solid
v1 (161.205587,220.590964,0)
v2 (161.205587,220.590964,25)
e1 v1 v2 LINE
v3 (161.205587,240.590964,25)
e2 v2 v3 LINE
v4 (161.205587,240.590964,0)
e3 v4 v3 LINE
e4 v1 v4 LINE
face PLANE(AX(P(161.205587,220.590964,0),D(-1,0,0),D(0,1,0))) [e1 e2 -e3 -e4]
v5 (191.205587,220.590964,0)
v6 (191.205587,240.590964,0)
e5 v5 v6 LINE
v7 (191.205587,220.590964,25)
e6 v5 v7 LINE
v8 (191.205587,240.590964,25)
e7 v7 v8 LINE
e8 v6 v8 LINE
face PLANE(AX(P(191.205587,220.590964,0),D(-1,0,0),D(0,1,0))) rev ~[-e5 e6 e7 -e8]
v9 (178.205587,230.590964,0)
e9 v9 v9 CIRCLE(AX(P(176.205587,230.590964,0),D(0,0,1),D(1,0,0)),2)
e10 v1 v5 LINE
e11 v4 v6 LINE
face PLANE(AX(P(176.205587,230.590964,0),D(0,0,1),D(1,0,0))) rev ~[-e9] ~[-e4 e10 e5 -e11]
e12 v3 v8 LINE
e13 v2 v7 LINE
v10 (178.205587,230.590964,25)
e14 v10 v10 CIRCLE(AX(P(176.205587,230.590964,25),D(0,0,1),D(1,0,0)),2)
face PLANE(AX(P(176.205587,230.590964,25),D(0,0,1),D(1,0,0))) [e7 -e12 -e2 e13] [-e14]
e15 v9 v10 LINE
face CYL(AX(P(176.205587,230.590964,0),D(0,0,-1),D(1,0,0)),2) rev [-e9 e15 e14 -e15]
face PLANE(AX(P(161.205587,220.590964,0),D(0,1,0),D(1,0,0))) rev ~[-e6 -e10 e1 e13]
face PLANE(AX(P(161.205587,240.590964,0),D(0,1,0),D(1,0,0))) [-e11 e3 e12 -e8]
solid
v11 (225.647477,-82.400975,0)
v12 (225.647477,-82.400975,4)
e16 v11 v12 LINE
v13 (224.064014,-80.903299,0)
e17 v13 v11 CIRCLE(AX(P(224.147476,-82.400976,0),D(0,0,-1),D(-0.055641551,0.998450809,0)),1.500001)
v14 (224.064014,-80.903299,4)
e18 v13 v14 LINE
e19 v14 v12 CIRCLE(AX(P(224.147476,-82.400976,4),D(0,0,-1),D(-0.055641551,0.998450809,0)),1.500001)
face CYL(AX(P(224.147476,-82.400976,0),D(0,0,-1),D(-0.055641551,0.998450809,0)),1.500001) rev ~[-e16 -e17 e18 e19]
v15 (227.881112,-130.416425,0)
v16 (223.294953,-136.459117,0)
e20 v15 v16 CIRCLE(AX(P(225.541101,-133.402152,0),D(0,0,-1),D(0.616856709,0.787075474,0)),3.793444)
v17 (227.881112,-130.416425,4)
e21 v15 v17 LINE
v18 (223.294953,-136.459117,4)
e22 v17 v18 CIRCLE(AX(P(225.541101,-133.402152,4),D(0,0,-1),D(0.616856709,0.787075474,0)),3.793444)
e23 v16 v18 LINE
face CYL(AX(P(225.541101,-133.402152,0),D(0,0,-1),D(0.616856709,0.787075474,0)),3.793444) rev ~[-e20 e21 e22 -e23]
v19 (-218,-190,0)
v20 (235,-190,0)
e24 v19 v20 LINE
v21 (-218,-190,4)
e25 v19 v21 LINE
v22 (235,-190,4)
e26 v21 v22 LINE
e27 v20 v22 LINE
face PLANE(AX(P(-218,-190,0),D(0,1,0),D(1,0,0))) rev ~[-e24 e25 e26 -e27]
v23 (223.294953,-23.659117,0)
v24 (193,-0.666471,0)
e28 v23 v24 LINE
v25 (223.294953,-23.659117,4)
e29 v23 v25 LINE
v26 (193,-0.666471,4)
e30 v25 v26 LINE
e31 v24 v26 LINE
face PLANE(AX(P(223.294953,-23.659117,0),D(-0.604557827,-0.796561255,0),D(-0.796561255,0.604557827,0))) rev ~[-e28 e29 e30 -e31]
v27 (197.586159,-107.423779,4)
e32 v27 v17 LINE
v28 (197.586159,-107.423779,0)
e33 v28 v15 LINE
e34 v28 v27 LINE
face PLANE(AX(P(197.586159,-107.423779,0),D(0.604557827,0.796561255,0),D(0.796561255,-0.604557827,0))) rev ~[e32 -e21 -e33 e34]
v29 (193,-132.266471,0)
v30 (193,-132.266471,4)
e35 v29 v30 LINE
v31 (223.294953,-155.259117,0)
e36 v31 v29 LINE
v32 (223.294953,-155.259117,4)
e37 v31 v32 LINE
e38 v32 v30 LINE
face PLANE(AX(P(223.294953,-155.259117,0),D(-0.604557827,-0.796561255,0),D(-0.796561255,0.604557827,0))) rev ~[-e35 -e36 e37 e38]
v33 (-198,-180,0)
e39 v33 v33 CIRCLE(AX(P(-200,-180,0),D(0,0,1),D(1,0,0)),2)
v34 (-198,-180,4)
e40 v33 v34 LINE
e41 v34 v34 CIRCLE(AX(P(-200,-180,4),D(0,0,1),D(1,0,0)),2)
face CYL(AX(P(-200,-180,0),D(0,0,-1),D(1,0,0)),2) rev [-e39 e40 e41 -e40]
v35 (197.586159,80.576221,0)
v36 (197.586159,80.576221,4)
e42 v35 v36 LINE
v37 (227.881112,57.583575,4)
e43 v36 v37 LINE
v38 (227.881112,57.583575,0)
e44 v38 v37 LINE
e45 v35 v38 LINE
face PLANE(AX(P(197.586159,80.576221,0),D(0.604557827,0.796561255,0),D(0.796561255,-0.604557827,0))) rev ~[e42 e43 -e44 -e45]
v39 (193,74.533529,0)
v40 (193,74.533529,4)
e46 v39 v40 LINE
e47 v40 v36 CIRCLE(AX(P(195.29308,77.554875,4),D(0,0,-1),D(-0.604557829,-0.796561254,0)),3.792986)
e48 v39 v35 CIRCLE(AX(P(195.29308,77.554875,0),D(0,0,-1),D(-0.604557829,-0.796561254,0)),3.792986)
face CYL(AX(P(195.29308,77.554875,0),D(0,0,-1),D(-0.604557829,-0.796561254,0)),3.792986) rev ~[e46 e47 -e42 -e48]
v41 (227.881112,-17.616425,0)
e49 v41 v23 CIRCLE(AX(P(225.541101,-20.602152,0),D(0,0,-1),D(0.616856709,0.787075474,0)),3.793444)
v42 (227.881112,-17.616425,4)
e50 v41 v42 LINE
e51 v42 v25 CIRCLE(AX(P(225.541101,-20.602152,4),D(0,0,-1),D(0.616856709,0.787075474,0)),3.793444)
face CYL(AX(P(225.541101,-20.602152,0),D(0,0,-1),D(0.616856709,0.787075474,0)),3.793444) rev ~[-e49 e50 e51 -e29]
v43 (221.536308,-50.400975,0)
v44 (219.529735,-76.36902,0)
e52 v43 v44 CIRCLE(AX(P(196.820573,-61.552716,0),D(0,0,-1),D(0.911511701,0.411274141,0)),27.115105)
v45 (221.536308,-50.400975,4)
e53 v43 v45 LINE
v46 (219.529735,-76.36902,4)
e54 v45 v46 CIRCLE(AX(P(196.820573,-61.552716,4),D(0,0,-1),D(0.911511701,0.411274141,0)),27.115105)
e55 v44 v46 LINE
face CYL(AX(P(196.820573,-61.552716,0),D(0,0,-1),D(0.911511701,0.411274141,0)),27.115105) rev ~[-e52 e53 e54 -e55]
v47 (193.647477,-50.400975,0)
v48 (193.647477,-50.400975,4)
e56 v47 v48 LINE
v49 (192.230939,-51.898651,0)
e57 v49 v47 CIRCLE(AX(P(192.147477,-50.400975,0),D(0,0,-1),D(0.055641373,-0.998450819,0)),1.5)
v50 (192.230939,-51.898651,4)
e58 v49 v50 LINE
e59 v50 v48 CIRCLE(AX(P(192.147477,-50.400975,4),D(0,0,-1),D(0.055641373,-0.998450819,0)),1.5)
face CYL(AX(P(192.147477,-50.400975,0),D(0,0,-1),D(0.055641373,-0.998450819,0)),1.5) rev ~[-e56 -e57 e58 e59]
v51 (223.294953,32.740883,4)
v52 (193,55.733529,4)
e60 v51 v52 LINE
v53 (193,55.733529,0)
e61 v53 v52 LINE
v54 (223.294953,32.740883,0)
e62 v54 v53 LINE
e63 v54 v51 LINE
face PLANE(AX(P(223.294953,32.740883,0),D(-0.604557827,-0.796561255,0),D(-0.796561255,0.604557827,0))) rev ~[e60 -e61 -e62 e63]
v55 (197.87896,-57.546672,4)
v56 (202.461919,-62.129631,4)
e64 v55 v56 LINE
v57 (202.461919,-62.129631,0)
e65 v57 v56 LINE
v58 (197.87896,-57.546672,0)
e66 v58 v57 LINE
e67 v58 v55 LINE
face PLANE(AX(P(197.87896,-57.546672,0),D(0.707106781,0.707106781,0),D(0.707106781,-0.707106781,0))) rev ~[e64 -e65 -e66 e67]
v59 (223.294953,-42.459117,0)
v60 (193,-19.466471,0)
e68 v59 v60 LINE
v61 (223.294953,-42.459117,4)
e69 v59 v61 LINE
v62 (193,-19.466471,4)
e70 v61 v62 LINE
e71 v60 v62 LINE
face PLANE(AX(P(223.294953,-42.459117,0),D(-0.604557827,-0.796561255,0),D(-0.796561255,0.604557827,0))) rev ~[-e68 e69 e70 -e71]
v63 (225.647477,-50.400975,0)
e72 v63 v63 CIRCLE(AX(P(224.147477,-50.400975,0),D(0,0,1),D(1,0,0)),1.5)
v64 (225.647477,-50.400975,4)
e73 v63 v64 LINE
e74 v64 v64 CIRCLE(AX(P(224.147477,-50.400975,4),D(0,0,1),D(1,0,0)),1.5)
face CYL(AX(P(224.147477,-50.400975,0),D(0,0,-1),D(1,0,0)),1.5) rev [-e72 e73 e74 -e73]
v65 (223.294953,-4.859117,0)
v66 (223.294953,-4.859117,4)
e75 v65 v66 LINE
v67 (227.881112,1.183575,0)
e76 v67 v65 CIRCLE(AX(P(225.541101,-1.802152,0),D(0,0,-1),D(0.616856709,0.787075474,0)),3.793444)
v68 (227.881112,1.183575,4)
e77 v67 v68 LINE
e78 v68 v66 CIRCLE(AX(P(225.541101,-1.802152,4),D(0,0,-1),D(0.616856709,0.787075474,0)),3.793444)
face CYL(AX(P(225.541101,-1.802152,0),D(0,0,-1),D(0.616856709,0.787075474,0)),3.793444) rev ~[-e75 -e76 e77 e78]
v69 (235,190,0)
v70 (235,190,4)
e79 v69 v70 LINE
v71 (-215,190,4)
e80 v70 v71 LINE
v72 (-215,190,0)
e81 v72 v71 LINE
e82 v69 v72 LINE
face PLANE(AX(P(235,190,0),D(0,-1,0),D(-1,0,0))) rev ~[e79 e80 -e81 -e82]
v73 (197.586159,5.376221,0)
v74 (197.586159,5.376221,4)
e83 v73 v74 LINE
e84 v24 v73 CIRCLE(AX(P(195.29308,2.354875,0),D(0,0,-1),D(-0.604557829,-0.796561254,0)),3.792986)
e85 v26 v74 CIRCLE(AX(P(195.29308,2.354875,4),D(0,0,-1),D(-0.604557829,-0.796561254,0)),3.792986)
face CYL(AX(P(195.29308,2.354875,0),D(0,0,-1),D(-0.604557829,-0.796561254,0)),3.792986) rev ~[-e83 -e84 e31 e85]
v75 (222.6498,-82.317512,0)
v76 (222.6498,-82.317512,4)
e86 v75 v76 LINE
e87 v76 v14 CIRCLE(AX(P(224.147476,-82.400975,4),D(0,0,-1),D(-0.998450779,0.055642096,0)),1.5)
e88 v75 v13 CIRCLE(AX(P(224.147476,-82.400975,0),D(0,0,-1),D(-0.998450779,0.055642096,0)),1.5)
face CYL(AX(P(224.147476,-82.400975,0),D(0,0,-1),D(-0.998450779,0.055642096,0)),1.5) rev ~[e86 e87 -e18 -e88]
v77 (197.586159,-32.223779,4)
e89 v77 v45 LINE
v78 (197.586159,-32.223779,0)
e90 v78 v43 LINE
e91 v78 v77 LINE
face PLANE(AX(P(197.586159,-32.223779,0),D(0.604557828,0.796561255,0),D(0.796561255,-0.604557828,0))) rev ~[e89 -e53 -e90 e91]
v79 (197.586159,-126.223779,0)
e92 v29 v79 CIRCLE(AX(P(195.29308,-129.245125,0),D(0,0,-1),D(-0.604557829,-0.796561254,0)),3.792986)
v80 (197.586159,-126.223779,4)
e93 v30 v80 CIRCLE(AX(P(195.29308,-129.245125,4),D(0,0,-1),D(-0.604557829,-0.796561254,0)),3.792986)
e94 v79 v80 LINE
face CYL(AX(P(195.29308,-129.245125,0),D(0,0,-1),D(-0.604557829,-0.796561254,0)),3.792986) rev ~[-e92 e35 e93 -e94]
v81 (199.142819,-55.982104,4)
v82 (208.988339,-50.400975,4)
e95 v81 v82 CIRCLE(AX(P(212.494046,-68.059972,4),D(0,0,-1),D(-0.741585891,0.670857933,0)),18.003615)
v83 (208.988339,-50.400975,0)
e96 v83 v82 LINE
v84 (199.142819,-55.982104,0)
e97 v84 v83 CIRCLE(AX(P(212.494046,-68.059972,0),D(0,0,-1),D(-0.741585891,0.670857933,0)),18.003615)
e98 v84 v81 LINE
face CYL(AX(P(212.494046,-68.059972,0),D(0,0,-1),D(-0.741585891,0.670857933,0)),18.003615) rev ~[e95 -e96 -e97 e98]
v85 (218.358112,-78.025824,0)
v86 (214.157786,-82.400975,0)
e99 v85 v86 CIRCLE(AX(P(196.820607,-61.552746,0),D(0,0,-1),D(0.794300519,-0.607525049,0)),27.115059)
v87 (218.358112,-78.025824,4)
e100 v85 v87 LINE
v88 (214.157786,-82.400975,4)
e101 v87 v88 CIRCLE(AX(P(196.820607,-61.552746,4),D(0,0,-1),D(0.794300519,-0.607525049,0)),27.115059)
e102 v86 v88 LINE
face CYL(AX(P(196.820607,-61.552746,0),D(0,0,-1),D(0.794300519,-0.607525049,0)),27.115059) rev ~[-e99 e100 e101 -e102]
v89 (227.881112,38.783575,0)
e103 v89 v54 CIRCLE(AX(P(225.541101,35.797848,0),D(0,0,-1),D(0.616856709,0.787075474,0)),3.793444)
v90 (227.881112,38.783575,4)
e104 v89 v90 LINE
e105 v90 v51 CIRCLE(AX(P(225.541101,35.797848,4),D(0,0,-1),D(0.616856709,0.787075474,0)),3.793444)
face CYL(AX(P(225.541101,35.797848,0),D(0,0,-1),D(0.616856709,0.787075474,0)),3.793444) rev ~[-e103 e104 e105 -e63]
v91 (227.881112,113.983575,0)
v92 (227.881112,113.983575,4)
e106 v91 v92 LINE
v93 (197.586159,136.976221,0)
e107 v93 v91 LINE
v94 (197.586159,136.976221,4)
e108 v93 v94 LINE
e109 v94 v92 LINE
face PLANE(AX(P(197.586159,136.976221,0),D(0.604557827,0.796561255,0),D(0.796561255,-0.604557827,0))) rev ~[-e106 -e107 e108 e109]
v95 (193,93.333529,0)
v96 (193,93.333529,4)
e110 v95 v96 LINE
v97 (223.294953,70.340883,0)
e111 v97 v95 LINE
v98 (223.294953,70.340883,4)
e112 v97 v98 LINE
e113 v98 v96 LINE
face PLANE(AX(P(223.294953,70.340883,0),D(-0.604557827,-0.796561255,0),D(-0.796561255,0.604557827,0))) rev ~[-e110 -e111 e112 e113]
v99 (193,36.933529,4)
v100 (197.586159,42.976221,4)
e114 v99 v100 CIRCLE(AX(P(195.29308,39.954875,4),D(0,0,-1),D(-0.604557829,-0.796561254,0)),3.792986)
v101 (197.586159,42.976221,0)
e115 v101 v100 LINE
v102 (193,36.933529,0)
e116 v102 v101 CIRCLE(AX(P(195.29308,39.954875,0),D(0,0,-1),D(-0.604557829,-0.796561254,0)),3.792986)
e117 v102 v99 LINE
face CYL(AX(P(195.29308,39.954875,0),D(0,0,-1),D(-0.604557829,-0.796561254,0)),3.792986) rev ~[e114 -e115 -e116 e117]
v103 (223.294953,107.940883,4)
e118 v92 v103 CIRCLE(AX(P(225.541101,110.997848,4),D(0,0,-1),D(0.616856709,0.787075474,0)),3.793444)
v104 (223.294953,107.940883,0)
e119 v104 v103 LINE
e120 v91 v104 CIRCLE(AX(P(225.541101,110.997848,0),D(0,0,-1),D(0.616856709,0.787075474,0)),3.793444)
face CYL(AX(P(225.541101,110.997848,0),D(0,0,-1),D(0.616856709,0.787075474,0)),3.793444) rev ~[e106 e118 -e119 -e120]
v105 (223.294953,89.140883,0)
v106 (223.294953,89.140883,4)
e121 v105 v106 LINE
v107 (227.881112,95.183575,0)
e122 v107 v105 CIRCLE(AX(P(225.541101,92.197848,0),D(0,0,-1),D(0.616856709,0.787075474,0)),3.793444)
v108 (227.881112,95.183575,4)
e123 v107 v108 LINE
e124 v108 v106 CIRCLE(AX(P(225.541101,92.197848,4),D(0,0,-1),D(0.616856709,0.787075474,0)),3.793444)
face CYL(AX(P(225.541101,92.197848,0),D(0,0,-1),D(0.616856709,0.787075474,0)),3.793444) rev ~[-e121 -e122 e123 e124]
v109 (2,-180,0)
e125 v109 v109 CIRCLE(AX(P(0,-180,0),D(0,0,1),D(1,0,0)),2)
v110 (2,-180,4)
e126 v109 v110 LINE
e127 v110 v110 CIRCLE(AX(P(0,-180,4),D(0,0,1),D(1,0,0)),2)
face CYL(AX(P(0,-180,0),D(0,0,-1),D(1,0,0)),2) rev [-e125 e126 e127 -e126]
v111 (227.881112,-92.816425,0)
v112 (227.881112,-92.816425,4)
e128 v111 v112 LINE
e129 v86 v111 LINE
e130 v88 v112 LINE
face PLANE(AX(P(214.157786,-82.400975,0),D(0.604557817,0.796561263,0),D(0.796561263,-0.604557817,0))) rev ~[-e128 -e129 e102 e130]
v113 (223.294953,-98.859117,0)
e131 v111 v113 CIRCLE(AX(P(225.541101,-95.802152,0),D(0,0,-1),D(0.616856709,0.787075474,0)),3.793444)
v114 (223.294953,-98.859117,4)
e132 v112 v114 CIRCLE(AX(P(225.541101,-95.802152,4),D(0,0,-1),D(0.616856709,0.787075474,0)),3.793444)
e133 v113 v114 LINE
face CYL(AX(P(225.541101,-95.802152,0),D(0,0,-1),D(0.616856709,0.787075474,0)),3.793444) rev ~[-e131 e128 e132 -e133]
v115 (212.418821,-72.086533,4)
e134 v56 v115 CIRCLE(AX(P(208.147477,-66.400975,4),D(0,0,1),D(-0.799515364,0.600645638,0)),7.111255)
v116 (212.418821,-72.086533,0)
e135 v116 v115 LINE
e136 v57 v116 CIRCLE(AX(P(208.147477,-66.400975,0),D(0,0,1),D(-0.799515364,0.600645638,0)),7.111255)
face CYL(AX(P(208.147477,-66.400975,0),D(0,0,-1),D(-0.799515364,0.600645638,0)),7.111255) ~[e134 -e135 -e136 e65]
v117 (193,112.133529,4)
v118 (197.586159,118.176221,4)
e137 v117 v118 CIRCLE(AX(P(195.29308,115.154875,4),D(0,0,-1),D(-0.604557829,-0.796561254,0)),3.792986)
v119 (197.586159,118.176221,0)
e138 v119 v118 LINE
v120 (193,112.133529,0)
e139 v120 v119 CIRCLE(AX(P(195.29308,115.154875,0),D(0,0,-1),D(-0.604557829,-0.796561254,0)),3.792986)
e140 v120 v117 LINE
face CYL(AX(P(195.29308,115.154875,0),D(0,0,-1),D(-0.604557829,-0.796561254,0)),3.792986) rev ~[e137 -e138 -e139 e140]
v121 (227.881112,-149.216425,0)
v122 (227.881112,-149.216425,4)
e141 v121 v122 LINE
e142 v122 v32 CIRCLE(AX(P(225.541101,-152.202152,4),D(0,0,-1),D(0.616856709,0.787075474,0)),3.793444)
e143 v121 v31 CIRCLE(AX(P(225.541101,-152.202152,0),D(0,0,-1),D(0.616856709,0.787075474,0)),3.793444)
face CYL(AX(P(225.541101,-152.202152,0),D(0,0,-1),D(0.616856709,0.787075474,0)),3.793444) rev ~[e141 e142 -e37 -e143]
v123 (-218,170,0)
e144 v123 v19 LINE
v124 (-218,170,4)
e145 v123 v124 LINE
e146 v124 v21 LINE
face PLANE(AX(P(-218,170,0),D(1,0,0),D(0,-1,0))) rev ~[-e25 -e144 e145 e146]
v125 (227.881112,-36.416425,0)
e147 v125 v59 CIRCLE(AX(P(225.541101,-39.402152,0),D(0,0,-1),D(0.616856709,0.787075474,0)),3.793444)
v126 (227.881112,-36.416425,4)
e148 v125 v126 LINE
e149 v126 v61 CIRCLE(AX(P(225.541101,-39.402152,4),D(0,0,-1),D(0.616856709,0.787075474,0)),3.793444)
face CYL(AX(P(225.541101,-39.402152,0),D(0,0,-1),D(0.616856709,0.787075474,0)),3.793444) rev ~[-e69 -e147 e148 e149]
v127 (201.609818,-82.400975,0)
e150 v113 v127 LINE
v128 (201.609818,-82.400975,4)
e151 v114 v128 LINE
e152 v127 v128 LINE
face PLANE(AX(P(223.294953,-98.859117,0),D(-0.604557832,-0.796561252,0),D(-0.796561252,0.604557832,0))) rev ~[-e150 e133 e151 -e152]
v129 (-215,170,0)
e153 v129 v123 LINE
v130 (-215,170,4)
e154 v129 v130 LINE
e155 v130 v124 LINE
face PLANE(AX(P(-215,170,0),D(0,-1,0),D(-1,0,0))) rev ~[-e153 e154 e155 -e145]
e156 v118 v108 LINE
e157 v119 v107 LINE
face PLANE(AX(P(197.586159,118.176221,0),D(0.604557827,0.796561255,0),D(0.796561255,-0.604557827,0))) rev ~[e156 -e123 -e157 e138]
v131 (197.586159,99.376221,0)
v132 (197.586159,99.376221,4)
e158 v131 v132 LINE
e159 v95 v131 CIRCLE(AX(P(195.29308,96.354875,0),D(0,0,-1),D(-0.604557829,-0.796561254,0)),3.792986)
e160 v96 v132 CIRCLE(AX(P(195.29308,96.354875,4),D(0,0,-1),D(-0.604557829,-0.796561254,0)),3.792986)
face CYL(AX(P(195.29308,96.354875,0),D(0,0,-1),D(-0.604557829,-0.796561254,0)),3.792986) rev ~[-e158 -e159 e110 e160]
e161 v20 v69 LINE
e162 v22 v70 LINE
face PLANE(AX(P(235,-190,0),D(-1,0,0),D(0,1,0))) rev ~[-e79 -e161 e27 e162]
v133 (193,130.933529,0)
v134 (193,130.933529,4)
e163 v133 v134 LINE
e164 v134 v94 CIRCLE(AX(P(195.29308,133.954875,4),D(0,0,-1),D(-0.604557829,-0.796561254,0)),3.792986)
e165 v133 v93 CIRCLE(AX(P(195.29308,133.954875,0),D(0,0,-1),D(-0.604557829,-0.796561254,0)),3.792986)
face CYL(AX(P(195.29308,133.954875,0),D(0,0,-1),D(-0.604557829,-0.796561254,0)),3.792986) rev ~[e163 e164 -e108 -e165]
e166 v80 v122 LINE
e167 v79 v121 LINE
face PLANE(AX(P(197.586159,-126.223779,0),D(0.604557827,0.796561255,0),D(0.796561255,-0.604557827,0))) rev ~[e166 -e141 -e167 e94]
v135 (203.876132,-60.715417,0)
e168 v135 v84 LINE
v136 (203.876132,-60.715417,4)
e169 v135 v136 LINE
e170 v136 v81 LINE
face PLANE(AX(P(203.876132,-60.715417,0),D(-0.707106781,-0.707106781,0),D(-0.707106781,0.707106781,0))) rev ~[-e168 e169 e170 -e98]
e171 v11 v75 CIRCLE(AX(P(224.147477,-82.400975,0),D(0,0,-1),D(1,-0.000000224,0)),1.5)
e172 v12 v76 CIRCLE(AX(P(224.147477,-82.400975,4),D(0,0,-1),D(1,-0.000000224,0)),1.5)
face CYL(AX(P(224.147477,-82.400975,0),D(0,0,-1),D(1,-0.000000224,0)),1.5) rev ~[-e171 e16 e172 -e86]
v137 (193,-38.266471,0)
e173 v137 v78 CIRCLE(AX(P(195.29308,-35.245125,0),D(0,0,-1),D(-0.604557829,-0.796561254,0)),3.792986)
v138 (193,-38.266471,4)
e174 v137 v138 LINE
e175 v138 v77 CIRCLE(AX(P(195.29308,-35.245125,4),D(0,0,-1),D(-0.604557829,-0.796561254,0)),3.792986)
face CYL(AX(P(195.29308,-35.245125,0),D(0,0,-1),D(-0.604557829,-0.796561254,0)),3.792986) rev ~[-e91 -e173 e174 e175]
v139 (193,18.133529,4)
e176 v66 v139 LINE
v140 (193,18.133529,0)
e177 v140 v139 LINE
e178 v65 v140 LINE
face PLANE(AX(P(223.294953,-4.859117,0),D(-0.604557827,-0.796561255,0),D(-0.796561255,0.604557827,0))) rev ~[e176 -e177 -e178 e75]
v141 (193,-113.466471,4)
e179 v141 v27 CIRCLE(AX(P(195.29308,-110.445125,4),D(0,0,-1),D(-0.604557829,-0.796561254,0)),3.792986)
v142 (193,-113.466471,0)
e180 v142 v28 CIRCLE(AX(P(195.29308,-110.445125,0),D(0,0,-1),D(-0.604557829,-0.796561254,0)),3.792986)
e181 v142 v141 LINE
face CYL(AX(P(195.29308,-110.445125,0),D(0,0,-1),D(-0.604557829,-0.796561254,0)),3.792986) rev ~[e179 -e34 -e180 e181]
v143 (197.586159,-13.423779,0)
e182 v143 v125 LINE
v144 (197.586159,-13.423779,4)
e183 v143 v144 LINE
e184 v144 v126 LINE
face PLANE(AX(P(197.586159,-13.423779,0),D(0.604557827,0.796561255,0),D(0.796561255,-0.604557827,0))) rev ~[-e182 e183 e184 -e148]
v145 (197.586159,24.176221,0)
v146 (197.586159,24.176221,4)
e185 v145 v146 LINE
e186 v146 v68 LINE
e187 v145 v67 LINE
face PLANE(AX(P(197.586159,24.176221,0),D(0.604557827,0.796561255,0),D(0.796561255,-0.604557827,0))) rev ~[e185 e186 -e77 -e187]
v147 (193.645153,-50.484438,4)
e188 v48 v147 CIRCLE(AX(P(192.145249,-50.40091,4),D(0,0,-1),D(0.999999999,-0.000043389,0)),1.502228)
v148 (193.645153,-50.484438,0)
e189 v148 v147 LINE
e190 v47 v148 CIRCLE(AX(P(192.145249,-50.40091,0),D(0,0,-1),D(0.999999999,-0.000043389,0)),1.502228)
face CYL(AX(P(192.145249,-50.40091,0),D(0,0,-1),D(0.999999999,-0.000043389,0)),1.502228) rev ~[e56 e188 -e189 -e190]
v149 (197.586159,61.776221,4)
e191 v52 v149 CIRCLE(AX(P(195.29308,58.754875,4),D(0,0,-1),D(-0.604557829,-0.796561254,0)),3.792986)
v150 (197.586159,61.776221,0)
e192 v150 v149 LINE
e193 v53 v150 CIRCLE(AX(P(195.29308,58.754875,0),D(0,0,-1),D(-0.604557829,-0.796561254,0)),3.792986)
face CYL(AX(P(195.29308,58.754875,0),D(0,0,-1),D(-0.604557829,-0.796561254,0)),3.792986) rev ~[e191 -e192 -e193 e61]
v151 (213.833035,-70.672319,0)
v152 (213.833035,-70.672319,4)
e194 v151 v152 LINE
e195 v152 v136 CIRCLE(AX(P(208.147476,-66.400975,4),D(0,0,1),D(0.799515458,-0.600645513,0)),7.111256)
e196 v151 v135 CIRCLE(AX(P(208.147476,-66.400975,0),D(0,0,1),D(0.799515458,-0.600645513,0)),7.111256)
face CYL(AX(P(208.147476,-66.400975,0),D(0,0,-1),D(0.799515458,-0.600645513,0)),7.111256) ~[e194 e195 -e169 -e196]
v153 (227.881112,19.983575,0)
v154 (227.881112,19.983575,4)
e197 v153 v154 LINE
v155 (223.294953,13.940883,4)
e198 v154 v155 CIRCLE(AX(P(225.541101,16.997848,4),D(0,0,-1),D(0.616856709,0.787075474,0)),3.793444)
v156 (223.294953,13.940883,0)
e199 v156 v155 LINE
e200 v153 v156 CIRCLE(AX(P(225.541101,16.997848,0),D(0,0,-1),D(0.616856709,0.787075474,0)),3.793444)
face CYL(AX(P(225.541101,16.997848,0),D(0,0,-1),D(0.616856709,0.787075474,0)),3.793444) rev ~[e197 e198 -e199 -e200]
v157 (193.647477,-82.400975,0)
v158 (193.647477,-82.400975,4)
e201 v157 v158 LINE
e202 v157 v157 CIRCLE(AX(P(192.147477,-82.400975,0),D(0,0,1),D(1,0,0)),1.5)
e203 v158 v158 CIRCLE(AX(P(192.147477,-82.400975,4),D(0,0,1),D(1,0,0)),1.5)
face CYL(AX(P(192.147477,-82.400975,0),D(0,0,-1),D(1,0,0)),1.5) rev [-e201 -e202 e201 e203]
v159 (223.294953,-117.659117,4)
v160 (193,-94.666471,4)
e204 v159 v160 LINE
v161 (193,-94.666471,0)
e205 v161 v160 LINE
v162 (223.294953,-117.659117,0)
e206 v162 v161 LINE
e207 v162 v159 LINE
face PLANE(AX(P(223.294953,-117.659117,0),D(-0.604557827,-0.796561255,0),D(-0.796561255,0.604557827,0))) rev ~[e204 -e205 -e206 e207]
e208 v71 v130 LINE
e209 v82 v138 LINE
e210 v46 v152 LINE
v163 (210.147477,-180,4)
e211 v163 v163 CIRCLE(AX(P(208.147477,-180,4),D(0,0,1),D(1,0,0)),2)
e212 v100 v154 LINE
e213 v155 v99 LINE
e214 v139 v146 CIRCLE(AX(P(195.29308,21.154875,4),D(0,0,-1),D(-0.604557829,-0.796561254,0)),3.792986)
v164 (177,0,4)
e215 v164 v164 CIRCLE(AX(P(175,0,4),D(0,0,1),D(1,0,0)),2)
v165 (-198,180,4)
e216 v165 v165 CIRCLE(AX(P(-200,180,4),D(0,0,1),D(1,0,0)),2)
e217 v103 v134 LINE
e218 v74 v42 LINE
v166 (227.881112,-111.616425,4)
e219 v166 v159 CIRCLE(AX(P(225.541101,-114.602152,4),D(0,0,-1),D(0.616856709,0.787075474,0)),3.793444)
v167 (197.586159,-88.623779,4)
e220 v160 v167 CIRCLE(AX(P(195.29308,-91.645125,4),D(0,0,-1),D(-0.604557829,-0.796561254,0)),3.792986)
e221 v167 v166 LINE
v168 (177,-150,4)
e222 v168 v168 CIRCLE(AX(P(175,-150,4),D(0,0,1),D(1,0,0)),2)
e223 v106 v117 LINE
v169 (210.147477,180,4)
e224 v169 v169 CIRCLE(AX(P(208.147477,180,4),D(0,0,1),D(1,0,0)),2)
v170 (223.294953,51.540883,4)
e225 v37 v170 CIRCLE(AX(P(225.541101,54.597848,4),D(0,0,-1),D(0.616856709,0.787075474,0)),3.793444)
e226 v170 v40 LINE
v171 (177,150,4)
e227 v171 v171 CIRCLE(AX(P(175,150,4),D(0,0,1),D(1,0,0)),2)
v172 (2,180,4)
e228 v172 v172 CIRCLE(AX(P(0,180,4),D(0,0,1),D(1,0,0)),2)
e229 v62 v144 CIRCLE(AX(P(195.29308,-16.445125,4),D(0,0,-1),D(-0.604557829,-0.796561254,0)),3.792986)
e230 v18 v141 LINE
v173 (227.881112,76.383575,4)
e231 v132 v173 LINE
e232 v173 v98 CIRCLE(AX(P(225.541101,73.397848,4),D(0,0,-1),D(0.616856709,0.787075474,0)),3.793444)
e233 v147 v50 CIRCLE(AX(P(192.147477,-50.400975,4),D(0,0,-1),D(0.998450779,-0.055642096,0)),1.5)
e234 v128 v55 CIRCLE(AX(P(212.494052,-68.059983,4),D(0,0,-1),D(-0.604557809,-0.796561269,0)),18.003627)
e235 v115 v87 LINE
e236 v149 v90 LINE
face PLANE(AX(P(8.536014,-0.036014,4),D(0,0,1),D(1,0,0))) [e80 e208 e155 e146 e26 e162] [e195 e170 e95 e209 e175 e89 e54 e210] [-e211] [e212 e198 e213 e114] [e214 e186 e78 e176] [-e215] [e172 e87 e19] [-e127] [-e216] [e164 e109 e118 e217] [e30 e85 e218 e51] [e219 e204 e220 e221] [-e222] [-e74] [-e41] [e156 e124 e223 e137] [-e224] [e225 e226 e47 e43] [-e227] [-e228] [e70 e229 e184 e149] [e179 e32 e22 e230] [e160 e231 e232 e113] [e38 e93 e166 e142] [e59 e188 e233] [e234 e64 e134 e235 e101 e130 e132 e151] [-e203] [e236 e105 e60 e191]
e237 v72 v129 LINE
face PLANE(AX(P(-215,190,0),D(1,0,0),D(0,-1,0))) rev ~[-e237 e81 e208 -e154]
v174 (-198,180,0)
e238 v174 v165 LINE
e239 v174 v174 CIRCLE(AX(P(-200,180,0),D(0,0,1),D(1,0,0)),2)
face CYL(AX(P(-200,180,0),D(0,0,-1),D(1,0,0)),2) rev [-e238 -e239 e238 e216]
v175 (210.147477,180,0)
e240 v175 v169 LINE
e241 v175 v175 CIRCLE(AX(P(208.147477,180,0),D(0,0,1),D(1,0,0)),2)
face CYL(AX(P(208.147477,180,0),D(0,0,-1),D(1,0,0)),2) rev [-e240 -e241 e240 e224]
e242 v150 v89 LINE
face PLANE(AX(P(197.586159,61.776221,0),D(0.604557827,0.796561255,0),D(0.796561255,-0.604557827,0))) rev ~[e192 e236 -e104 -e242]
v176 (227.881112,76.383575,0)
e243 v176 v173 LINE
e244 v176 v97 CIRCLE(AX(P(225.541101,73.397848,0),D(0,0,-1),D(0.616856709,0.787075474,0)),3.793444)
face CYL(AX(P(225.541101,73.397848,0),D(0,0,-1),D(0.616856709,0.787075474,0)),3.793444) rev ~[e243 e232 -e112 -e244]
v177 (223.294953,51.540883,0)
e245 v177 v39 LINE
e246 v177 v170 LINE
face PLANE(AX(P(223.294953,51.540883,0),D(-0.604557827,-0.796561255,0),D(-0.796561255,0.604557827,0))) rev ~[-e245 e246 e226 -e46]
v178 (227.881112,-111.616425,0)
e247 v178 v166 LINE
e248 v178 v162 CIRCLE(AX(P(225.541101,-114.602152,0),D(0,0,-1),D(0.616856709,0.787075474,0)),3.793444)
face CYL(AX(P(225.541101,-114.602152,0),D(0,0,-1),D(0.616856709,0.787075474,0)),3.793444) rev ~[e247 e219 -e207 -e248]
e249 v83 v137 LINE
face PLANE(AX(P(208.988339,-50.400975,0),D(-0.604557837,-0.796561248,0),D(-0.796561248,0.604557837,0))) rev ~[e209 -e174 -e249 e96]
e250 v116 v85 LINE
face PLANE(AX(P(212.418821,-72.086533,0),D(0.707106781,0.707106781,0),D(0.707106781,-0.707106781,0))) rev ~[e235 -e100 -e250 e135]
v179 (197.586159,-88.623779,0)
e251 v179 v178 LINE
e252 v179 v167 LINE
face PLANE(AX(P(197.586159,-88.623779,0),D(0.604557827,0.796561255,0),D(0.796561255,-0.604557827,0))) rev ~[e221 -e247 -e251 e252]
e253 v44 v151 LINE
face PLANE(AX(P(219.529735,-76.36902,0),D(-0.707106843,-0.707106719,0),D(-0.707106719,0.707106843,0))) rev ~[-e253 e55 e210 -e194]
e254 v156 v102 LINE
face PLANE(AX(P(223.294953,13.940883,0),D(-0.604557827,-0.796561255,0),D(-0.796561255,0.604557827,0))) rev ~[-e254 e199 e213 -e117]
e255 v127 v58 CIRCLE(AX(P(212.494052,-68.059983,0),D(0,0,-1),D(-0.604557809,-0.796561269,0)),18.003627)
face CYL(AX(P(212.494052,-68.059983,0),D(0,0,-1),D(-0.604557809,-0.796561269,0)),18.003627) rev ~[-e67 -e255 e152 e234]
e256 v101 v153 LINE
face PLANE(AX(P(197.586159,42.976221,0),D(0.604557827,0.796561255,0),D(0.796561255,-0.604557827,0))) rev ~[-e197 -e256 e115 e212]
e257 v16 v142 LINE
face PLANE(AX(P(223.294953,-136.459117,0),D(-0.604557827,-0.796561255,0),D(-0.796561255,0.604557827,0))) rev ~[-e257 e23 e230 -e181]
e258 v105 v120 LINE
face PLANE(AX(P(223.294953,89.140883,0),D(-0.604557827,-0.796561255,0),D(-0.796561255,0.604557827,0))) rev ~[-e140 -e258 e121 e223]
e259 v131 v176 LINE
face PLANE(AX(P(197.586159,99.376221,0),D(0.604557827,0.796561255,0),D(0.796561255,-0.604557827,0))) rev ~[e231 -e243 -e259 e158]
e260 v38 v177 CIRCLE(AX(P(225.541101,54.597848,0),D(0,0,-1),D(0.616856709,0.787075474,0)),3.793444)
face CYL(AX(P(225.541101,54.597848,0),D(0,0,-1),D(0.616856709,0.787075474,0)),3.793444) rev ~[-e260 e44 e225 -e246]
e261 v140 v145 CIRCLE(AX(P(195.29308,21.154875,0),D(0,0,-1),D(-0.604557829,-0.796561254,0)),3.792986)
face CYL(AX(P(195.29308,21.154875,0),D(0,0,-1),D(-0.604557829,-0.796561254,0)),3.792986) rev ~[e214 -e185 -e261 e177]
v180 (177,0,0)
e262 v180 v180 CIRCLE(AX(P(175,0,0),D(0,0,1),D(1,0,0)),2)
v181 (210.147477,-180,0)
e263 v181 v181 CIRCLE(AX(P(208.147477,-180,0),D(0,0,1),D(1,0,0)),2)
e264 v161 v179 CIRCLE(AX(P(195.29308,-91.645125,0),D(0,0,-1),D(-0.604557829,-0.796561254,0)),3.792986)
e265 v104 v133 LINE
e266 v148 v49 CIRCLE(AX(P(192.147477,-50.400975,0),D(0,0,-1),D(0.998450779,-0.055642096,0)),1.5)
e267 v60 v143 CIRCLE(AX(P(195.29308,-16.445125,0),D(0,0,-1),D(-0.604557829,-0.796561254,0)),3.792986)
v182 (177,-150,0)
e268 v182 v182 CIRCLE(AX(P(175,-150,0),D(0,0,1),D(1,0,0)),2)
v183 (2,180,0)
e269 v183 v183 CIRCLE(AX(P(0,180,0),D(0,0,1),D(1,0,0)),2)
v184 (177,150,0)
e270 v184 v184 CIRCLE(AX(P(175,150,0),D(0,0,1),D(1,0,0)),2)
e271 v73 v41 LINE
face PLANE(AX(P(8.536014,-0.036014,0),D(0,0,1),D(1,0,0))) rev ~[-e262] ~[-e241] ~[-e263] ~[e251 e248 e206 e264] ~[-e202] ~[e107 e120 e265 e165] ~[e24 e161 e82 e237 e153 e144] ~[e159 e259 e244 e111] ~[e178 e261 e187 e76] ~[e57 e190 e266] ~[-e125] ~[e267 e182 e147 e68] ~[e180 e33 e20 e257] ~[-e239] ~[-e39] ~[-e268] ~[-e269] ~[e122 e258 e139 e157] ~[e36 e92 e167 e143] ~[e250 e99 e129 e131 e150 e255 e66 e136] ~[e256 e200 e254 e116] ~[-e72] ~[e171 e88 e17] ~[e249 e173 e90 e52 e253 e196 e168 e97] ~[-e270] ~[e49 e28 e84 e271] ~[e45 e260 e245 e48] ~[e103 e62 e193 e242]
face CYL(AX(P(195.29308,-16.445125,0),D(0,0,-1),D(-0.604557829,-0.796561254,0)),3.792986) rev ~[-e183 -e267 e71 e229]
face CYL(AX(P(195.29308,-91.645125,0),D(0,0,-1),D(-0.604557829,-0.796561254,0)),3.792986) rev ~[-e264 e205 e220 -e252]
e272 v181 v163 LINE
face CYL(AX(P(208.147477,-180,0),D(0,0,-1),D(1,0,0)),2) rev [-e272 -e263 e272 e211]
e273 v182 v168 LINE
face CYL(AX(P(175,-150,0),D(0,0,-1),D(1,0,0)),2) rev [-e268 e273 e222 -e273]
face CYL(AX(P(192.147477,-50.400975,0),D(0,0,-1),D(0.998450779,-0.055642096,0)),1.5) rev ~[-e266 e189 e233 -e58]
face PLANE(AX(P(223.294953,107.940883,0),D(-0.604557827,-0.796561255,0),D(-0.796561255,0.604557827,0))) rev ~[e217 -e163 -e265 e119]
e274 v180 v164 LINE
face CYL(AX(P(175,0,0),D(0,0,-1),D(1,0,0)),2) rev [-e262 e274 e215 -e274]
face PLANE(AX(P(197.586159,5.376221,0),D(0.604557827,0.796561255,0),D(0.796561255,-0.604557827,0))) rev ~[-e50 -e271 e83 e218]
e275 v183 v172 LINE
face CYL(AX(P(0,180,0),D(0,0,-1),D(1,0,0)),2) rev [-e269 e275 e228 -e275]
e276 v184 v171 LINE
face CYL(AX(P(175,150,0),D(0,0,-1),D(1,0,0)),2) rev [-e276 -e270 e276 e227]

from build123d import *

# Parameters (mm, degrees)
F0_R     = 2
F0_R_2   = 1.5
F1_DEPTH = 4
F0_W     = 30
F0_H     = 20
F2_DEPTH = 25


with BuildPart() as f1:
    # F0 (on Top) → F1 (new body)
    with BuildSketch(Plane.XY):
        Polygon((235, 190), (-215, 190), (-215, 170), (-218, 170), (-218, -170), (-218, -190), (-215, -190), (235, -190), align=None)
        with Locations((-200, -180)):
            Circle(F0_R, mode=Mode.SUBTRACT)
        with Locations((0, -180)):
            Circle(F0_R, mode=Mode.SUBTRACT)
        with Locations((175, -150)):
            Circle(F0_R, mode=Mode.SUBTRACT)
        with Locations((208.147477, -180)):
            Circle(F0_R, mode=Mode.SUBTRACT)
        with BuildLine():
            Line((197.586159, -126.223779), (227.881112, -149.216425))
            ThreePointArc((227.881112, -149.216425), (228.562811, -154.495508), (223.294953, -155.259117))
            Line((223.294953, -155.259117), (193, -132.266471))
            ThreePointArc((193, -132.266471), (192.271734, -126.952045), (197.586159, -126.223779))
        make_face(mode=Mode.SUBTRACT)
        with BuildLine():
            ThreePointArc((193, -113.466471), (192.271734, -108.152045), (197.586159, -107.423779))
            Line((197.586159, -107.423779), (227.881112, -130.416425))
            ThreePointArc((227.881112, -130.416425), (228.562811, -135.695508), (223.294953, -136.459117))
            Line((223.294953, -136.459117), (193, -113.466471))
        make_face(mode=Mode.SUBTRACT)
        with Locations((192.147477, -82.400975)):
            Circle(F0_R_2, mode=Mode.SUBTRACT)
        with BuildLine():
            ThreePointArc((193, -94.666471), (192.271734, -89.352045), (197.586159, -88.623779))
            Line((197.586159, -88.623779), (227.881112, -111.616425))
            ThreePointArc((227.881112, -111.616425), (228.562811, -116.895508), (223.294953, -117.659117))
            Line((223.294953, -117.659117), (193, -94.666471))
        make_face(mode=Mode.SUBTRACT)
        with BuildLine():
            ThreePointArc((224.064014, -80.903299), (225.178206, -81.311206), (225.647477, -82.400975))
            ThreePointArc((225.647477, -82.400975), (224.105729, -83.900394), (222.6498, -82.317512))
            ThreePointArc((222.6498, -82.317512), (223.086816, -81.340315), (224.064014, -80.903299))
        make_face(mode=Mode.SUBTRACT)
        with BuildLine():
            Line((223.294953, -98.859117), (201.609818, -82.400975))
            ThreePointArc((201.609818, -82.400975), (194.689895, -70.732549), (197.87896, -57.546672))
            Line((197.87896, -57.546672), (202.461919, -62.129631))
            ThreePointArc((202.461919, -62.129631), (203.11906, -71.429392), (212.418821, -72.086533))
            Line((212.418821, -72.086533), (218.358112, -78.025824))
            ThreePointArc((218.358112, -78.025824), (216.380662, -80.331209), (214.157786, -82.400975))
            Line((214.157786, -82.400975), (227.881112, -92.816425))
            ThreePointArc((227.881112, -92.816425), (228.562811, -98.095508), (223.294953, -98.859117))
        make_face(mode=Mode.SUBTRACT)
        with BuildLine():
            ThreePointArc((192.230939, -51.898651), (191.057707, -49.370246), (193.647477, -50.400975))
            ThreePointArc((193.647477, -50.400975), (193.646895, -50.442722), (193.645153, -50.484438))
            ThreePointArc((193.645153, -50.484438), (193.208137, -51.461635), (192.230939, -51.898651))
        make_face(mode=Mode.SUBTRACT)
        with BuildLine():
            ThreePointArc((193, -38.266471), (192.271734, -32.952045), (197.586159, -32.223779))
            Line((197.586159, -32.223779), (221.536308, -50.400975))
            ThreePointArc((221.536308, -50.400975), (223.855089, -63.641696), (219.529735, -76.36902))
            Line((219.529735, -76.36902), (213.833035, -70.672319))
            ThreePointArc((213.833035, -70.672319), (213.175893, -61.372558), (203.876132, -60.715417))
            Line((203.876132, -60.715417), (199.142819, -55.982104))
            ThreePointArc((199.142819, -55.982104), (203.615628, -52.397793), (208.988339, -50.400975))
            Line((208.988339, -50.400975), (193, -38.266471))
        make_face(mode=Mode.SUBTRACT)
        with Locations((224.147477, -50.400975)):
            Circle(F0_R_2, mode=Mode.SUBTRACT)
        with Locations((175, 0)):
            Circle(F0_R, mode=Mode.SUBTRACT)
        with BuildLine():
            ThreePointArc((193, -19.466471), (192.271734, -14.152045), (197.586159, -13.423779))
            Line((197.586159, -13.423779), (227.881112, -36.416425))
            ThreePointArc((227.881112, -36.416425), (228.562811, -41.695508), (223.294953, -42.459117))
            Line((223.294953, -42.459117), (193, -19.466471))
        make_face(mode=Mode.SUBTRACT)
        with BuildLine():
            ThreePointArc((193, -0.666471), (192.271734, 4.647955), (197.586159, 5.376221))
            Line((197.586159, 5.376221), (227.881112, -17.616425))
            ThreePointArc((227.881112, -17.616425), (228.562811, -22.895508), (223.294953, -23.659117))
            Line((223.294953, -23.659117), (193, -0.666471))
        make_face(mode=Mode.SUBTRACT)
        with BuildLine():
            ThreePointArc((193, 18.133529), (192.271734, 23.447955), (197.586159, 24.176221))
            Line((197.586159, 24.176221), (227.881112, 1.183575))
            ThreePointArc((227.881112, 1.183575), (228.562811, -4.095508), (223.294953, -4.859117))
            Line((223.294953, -4.859117), (193, 18.133529))
        make_face(mode=Mode.SUBTRACT)
        with Locations((-200, 180)):
            Circle(F0_R, mode=Mode.SUBTRACT)
        with Locations((0, 180)):
            Circle(F0_R, mode=Mode.SUBTRACT)
        with BuildLine():
            ThreePointArc((193, 36.933529), (192.271734, 42.247955), (197.586159, 42.976221))
            Line((197.586159, 42.976221), (227.881112, 19.983575))
            ThreePointArc((227.881112, 19.983575), (228.562811, 14.704492), (223.294953, 13.940883))
            Line((223.294953, 13.940883), (193, 36.933529))
        make_face(mode=Mode.SUBTRACT)
        with BuildLine():
            ThreePointArc((193, 55.733529), (192.271734, 61.047955), (197.586159, 61.776221))
            Line((197.586159, 61.776221), (227.881112, 38.783575))
            ThreePointArc((227.881112, 38.783575), (228.562811, 33.504492), (223.294953, 32.740883))
            Line((223.294953, 32.740883), (193, 55.733529))
        make_face(mode=Mode.SUBTRACT)
        with BuildLine():
            ThreePointArc((193, 74.533529), (192.271734, 79.847955), (197.586159, 80.576221))
            Line((197.586159, 80.576221), (227.881112, 57.583575))
            ThreePointArc((227.881112, 57.583575), (228.562811, 52.304492), (223.294953, 51.540883))
            Line((223.294953, 51.540883), (193, 74.533529))
        make_face(mode=Mode.SUBTRACT)
        with BuildLine():
            ThreePointArc((193, 93.333529), (192.271734, 98.647955), (197.586159, 99.376221))
            Line((197.586159, 99.376221), (227.881112, 76.383575))
            ThreePointArc((227.881112, 76.383575), (228.562811, 71.104492), (223.294953, 70.340883))
            Line((223.294953, 70.340883), (193, 93.333529))
        make_face(mode=Mode.SUBTRACT)
        with BuildLine():
            ThreePointArc((193, 112.133529), (192.271734, 117.447955), (197.586159, 118.176221))
            Line((197.586159, 118.176221), (227.881112, 95.183575))
            ThreePointArc((227.881112, 95.183575), (228.562811, 89.904492), (223.294953, 89.140883))
            Line((223.294953, 89.140883), (193, 112.133529))
        make_face(mode=Mode.SUBTRACT)
        with BuildLine():
            ThreePointArc((193, 130.933529), (192.271734, 136.247955), (197.586159, 136.976221))
            Line((197.586159, 136.976221), (227.881112, 113.983575))
            ThreePointArc((227.881112, 113.983575), (228.562811, 108.704492), (223.294953, 107.940883))
            Line((223.294953, 107.940883), (193, 130.933529))
        make_face(mode=Mode.SUBTRACT)
        with Locations((175, 150)):
            Circle(F0_R, mode=Mode.SUBTRACT)
        with Locations((208.147477, 180)):
            Circle(F0_R, mode=Mode.SUBTRACT)
    extrude(amount=F1_DEPTH)


with BuildPart() as f2:
    # F0 (on Top) → F2 (new body)
    with BuildSketch(Plane.XY):
        with Locations((176.205587, 230.590964)):
            Rectangle(F0_W, F0_H)
        with Locations((176.205587, 230.590964)):
            Circle(F0_R, mode=Mode.SUBTRACT)
    extrude(amount=F2_DEPTH)


solid = Compound([f1.part, f2.part])
